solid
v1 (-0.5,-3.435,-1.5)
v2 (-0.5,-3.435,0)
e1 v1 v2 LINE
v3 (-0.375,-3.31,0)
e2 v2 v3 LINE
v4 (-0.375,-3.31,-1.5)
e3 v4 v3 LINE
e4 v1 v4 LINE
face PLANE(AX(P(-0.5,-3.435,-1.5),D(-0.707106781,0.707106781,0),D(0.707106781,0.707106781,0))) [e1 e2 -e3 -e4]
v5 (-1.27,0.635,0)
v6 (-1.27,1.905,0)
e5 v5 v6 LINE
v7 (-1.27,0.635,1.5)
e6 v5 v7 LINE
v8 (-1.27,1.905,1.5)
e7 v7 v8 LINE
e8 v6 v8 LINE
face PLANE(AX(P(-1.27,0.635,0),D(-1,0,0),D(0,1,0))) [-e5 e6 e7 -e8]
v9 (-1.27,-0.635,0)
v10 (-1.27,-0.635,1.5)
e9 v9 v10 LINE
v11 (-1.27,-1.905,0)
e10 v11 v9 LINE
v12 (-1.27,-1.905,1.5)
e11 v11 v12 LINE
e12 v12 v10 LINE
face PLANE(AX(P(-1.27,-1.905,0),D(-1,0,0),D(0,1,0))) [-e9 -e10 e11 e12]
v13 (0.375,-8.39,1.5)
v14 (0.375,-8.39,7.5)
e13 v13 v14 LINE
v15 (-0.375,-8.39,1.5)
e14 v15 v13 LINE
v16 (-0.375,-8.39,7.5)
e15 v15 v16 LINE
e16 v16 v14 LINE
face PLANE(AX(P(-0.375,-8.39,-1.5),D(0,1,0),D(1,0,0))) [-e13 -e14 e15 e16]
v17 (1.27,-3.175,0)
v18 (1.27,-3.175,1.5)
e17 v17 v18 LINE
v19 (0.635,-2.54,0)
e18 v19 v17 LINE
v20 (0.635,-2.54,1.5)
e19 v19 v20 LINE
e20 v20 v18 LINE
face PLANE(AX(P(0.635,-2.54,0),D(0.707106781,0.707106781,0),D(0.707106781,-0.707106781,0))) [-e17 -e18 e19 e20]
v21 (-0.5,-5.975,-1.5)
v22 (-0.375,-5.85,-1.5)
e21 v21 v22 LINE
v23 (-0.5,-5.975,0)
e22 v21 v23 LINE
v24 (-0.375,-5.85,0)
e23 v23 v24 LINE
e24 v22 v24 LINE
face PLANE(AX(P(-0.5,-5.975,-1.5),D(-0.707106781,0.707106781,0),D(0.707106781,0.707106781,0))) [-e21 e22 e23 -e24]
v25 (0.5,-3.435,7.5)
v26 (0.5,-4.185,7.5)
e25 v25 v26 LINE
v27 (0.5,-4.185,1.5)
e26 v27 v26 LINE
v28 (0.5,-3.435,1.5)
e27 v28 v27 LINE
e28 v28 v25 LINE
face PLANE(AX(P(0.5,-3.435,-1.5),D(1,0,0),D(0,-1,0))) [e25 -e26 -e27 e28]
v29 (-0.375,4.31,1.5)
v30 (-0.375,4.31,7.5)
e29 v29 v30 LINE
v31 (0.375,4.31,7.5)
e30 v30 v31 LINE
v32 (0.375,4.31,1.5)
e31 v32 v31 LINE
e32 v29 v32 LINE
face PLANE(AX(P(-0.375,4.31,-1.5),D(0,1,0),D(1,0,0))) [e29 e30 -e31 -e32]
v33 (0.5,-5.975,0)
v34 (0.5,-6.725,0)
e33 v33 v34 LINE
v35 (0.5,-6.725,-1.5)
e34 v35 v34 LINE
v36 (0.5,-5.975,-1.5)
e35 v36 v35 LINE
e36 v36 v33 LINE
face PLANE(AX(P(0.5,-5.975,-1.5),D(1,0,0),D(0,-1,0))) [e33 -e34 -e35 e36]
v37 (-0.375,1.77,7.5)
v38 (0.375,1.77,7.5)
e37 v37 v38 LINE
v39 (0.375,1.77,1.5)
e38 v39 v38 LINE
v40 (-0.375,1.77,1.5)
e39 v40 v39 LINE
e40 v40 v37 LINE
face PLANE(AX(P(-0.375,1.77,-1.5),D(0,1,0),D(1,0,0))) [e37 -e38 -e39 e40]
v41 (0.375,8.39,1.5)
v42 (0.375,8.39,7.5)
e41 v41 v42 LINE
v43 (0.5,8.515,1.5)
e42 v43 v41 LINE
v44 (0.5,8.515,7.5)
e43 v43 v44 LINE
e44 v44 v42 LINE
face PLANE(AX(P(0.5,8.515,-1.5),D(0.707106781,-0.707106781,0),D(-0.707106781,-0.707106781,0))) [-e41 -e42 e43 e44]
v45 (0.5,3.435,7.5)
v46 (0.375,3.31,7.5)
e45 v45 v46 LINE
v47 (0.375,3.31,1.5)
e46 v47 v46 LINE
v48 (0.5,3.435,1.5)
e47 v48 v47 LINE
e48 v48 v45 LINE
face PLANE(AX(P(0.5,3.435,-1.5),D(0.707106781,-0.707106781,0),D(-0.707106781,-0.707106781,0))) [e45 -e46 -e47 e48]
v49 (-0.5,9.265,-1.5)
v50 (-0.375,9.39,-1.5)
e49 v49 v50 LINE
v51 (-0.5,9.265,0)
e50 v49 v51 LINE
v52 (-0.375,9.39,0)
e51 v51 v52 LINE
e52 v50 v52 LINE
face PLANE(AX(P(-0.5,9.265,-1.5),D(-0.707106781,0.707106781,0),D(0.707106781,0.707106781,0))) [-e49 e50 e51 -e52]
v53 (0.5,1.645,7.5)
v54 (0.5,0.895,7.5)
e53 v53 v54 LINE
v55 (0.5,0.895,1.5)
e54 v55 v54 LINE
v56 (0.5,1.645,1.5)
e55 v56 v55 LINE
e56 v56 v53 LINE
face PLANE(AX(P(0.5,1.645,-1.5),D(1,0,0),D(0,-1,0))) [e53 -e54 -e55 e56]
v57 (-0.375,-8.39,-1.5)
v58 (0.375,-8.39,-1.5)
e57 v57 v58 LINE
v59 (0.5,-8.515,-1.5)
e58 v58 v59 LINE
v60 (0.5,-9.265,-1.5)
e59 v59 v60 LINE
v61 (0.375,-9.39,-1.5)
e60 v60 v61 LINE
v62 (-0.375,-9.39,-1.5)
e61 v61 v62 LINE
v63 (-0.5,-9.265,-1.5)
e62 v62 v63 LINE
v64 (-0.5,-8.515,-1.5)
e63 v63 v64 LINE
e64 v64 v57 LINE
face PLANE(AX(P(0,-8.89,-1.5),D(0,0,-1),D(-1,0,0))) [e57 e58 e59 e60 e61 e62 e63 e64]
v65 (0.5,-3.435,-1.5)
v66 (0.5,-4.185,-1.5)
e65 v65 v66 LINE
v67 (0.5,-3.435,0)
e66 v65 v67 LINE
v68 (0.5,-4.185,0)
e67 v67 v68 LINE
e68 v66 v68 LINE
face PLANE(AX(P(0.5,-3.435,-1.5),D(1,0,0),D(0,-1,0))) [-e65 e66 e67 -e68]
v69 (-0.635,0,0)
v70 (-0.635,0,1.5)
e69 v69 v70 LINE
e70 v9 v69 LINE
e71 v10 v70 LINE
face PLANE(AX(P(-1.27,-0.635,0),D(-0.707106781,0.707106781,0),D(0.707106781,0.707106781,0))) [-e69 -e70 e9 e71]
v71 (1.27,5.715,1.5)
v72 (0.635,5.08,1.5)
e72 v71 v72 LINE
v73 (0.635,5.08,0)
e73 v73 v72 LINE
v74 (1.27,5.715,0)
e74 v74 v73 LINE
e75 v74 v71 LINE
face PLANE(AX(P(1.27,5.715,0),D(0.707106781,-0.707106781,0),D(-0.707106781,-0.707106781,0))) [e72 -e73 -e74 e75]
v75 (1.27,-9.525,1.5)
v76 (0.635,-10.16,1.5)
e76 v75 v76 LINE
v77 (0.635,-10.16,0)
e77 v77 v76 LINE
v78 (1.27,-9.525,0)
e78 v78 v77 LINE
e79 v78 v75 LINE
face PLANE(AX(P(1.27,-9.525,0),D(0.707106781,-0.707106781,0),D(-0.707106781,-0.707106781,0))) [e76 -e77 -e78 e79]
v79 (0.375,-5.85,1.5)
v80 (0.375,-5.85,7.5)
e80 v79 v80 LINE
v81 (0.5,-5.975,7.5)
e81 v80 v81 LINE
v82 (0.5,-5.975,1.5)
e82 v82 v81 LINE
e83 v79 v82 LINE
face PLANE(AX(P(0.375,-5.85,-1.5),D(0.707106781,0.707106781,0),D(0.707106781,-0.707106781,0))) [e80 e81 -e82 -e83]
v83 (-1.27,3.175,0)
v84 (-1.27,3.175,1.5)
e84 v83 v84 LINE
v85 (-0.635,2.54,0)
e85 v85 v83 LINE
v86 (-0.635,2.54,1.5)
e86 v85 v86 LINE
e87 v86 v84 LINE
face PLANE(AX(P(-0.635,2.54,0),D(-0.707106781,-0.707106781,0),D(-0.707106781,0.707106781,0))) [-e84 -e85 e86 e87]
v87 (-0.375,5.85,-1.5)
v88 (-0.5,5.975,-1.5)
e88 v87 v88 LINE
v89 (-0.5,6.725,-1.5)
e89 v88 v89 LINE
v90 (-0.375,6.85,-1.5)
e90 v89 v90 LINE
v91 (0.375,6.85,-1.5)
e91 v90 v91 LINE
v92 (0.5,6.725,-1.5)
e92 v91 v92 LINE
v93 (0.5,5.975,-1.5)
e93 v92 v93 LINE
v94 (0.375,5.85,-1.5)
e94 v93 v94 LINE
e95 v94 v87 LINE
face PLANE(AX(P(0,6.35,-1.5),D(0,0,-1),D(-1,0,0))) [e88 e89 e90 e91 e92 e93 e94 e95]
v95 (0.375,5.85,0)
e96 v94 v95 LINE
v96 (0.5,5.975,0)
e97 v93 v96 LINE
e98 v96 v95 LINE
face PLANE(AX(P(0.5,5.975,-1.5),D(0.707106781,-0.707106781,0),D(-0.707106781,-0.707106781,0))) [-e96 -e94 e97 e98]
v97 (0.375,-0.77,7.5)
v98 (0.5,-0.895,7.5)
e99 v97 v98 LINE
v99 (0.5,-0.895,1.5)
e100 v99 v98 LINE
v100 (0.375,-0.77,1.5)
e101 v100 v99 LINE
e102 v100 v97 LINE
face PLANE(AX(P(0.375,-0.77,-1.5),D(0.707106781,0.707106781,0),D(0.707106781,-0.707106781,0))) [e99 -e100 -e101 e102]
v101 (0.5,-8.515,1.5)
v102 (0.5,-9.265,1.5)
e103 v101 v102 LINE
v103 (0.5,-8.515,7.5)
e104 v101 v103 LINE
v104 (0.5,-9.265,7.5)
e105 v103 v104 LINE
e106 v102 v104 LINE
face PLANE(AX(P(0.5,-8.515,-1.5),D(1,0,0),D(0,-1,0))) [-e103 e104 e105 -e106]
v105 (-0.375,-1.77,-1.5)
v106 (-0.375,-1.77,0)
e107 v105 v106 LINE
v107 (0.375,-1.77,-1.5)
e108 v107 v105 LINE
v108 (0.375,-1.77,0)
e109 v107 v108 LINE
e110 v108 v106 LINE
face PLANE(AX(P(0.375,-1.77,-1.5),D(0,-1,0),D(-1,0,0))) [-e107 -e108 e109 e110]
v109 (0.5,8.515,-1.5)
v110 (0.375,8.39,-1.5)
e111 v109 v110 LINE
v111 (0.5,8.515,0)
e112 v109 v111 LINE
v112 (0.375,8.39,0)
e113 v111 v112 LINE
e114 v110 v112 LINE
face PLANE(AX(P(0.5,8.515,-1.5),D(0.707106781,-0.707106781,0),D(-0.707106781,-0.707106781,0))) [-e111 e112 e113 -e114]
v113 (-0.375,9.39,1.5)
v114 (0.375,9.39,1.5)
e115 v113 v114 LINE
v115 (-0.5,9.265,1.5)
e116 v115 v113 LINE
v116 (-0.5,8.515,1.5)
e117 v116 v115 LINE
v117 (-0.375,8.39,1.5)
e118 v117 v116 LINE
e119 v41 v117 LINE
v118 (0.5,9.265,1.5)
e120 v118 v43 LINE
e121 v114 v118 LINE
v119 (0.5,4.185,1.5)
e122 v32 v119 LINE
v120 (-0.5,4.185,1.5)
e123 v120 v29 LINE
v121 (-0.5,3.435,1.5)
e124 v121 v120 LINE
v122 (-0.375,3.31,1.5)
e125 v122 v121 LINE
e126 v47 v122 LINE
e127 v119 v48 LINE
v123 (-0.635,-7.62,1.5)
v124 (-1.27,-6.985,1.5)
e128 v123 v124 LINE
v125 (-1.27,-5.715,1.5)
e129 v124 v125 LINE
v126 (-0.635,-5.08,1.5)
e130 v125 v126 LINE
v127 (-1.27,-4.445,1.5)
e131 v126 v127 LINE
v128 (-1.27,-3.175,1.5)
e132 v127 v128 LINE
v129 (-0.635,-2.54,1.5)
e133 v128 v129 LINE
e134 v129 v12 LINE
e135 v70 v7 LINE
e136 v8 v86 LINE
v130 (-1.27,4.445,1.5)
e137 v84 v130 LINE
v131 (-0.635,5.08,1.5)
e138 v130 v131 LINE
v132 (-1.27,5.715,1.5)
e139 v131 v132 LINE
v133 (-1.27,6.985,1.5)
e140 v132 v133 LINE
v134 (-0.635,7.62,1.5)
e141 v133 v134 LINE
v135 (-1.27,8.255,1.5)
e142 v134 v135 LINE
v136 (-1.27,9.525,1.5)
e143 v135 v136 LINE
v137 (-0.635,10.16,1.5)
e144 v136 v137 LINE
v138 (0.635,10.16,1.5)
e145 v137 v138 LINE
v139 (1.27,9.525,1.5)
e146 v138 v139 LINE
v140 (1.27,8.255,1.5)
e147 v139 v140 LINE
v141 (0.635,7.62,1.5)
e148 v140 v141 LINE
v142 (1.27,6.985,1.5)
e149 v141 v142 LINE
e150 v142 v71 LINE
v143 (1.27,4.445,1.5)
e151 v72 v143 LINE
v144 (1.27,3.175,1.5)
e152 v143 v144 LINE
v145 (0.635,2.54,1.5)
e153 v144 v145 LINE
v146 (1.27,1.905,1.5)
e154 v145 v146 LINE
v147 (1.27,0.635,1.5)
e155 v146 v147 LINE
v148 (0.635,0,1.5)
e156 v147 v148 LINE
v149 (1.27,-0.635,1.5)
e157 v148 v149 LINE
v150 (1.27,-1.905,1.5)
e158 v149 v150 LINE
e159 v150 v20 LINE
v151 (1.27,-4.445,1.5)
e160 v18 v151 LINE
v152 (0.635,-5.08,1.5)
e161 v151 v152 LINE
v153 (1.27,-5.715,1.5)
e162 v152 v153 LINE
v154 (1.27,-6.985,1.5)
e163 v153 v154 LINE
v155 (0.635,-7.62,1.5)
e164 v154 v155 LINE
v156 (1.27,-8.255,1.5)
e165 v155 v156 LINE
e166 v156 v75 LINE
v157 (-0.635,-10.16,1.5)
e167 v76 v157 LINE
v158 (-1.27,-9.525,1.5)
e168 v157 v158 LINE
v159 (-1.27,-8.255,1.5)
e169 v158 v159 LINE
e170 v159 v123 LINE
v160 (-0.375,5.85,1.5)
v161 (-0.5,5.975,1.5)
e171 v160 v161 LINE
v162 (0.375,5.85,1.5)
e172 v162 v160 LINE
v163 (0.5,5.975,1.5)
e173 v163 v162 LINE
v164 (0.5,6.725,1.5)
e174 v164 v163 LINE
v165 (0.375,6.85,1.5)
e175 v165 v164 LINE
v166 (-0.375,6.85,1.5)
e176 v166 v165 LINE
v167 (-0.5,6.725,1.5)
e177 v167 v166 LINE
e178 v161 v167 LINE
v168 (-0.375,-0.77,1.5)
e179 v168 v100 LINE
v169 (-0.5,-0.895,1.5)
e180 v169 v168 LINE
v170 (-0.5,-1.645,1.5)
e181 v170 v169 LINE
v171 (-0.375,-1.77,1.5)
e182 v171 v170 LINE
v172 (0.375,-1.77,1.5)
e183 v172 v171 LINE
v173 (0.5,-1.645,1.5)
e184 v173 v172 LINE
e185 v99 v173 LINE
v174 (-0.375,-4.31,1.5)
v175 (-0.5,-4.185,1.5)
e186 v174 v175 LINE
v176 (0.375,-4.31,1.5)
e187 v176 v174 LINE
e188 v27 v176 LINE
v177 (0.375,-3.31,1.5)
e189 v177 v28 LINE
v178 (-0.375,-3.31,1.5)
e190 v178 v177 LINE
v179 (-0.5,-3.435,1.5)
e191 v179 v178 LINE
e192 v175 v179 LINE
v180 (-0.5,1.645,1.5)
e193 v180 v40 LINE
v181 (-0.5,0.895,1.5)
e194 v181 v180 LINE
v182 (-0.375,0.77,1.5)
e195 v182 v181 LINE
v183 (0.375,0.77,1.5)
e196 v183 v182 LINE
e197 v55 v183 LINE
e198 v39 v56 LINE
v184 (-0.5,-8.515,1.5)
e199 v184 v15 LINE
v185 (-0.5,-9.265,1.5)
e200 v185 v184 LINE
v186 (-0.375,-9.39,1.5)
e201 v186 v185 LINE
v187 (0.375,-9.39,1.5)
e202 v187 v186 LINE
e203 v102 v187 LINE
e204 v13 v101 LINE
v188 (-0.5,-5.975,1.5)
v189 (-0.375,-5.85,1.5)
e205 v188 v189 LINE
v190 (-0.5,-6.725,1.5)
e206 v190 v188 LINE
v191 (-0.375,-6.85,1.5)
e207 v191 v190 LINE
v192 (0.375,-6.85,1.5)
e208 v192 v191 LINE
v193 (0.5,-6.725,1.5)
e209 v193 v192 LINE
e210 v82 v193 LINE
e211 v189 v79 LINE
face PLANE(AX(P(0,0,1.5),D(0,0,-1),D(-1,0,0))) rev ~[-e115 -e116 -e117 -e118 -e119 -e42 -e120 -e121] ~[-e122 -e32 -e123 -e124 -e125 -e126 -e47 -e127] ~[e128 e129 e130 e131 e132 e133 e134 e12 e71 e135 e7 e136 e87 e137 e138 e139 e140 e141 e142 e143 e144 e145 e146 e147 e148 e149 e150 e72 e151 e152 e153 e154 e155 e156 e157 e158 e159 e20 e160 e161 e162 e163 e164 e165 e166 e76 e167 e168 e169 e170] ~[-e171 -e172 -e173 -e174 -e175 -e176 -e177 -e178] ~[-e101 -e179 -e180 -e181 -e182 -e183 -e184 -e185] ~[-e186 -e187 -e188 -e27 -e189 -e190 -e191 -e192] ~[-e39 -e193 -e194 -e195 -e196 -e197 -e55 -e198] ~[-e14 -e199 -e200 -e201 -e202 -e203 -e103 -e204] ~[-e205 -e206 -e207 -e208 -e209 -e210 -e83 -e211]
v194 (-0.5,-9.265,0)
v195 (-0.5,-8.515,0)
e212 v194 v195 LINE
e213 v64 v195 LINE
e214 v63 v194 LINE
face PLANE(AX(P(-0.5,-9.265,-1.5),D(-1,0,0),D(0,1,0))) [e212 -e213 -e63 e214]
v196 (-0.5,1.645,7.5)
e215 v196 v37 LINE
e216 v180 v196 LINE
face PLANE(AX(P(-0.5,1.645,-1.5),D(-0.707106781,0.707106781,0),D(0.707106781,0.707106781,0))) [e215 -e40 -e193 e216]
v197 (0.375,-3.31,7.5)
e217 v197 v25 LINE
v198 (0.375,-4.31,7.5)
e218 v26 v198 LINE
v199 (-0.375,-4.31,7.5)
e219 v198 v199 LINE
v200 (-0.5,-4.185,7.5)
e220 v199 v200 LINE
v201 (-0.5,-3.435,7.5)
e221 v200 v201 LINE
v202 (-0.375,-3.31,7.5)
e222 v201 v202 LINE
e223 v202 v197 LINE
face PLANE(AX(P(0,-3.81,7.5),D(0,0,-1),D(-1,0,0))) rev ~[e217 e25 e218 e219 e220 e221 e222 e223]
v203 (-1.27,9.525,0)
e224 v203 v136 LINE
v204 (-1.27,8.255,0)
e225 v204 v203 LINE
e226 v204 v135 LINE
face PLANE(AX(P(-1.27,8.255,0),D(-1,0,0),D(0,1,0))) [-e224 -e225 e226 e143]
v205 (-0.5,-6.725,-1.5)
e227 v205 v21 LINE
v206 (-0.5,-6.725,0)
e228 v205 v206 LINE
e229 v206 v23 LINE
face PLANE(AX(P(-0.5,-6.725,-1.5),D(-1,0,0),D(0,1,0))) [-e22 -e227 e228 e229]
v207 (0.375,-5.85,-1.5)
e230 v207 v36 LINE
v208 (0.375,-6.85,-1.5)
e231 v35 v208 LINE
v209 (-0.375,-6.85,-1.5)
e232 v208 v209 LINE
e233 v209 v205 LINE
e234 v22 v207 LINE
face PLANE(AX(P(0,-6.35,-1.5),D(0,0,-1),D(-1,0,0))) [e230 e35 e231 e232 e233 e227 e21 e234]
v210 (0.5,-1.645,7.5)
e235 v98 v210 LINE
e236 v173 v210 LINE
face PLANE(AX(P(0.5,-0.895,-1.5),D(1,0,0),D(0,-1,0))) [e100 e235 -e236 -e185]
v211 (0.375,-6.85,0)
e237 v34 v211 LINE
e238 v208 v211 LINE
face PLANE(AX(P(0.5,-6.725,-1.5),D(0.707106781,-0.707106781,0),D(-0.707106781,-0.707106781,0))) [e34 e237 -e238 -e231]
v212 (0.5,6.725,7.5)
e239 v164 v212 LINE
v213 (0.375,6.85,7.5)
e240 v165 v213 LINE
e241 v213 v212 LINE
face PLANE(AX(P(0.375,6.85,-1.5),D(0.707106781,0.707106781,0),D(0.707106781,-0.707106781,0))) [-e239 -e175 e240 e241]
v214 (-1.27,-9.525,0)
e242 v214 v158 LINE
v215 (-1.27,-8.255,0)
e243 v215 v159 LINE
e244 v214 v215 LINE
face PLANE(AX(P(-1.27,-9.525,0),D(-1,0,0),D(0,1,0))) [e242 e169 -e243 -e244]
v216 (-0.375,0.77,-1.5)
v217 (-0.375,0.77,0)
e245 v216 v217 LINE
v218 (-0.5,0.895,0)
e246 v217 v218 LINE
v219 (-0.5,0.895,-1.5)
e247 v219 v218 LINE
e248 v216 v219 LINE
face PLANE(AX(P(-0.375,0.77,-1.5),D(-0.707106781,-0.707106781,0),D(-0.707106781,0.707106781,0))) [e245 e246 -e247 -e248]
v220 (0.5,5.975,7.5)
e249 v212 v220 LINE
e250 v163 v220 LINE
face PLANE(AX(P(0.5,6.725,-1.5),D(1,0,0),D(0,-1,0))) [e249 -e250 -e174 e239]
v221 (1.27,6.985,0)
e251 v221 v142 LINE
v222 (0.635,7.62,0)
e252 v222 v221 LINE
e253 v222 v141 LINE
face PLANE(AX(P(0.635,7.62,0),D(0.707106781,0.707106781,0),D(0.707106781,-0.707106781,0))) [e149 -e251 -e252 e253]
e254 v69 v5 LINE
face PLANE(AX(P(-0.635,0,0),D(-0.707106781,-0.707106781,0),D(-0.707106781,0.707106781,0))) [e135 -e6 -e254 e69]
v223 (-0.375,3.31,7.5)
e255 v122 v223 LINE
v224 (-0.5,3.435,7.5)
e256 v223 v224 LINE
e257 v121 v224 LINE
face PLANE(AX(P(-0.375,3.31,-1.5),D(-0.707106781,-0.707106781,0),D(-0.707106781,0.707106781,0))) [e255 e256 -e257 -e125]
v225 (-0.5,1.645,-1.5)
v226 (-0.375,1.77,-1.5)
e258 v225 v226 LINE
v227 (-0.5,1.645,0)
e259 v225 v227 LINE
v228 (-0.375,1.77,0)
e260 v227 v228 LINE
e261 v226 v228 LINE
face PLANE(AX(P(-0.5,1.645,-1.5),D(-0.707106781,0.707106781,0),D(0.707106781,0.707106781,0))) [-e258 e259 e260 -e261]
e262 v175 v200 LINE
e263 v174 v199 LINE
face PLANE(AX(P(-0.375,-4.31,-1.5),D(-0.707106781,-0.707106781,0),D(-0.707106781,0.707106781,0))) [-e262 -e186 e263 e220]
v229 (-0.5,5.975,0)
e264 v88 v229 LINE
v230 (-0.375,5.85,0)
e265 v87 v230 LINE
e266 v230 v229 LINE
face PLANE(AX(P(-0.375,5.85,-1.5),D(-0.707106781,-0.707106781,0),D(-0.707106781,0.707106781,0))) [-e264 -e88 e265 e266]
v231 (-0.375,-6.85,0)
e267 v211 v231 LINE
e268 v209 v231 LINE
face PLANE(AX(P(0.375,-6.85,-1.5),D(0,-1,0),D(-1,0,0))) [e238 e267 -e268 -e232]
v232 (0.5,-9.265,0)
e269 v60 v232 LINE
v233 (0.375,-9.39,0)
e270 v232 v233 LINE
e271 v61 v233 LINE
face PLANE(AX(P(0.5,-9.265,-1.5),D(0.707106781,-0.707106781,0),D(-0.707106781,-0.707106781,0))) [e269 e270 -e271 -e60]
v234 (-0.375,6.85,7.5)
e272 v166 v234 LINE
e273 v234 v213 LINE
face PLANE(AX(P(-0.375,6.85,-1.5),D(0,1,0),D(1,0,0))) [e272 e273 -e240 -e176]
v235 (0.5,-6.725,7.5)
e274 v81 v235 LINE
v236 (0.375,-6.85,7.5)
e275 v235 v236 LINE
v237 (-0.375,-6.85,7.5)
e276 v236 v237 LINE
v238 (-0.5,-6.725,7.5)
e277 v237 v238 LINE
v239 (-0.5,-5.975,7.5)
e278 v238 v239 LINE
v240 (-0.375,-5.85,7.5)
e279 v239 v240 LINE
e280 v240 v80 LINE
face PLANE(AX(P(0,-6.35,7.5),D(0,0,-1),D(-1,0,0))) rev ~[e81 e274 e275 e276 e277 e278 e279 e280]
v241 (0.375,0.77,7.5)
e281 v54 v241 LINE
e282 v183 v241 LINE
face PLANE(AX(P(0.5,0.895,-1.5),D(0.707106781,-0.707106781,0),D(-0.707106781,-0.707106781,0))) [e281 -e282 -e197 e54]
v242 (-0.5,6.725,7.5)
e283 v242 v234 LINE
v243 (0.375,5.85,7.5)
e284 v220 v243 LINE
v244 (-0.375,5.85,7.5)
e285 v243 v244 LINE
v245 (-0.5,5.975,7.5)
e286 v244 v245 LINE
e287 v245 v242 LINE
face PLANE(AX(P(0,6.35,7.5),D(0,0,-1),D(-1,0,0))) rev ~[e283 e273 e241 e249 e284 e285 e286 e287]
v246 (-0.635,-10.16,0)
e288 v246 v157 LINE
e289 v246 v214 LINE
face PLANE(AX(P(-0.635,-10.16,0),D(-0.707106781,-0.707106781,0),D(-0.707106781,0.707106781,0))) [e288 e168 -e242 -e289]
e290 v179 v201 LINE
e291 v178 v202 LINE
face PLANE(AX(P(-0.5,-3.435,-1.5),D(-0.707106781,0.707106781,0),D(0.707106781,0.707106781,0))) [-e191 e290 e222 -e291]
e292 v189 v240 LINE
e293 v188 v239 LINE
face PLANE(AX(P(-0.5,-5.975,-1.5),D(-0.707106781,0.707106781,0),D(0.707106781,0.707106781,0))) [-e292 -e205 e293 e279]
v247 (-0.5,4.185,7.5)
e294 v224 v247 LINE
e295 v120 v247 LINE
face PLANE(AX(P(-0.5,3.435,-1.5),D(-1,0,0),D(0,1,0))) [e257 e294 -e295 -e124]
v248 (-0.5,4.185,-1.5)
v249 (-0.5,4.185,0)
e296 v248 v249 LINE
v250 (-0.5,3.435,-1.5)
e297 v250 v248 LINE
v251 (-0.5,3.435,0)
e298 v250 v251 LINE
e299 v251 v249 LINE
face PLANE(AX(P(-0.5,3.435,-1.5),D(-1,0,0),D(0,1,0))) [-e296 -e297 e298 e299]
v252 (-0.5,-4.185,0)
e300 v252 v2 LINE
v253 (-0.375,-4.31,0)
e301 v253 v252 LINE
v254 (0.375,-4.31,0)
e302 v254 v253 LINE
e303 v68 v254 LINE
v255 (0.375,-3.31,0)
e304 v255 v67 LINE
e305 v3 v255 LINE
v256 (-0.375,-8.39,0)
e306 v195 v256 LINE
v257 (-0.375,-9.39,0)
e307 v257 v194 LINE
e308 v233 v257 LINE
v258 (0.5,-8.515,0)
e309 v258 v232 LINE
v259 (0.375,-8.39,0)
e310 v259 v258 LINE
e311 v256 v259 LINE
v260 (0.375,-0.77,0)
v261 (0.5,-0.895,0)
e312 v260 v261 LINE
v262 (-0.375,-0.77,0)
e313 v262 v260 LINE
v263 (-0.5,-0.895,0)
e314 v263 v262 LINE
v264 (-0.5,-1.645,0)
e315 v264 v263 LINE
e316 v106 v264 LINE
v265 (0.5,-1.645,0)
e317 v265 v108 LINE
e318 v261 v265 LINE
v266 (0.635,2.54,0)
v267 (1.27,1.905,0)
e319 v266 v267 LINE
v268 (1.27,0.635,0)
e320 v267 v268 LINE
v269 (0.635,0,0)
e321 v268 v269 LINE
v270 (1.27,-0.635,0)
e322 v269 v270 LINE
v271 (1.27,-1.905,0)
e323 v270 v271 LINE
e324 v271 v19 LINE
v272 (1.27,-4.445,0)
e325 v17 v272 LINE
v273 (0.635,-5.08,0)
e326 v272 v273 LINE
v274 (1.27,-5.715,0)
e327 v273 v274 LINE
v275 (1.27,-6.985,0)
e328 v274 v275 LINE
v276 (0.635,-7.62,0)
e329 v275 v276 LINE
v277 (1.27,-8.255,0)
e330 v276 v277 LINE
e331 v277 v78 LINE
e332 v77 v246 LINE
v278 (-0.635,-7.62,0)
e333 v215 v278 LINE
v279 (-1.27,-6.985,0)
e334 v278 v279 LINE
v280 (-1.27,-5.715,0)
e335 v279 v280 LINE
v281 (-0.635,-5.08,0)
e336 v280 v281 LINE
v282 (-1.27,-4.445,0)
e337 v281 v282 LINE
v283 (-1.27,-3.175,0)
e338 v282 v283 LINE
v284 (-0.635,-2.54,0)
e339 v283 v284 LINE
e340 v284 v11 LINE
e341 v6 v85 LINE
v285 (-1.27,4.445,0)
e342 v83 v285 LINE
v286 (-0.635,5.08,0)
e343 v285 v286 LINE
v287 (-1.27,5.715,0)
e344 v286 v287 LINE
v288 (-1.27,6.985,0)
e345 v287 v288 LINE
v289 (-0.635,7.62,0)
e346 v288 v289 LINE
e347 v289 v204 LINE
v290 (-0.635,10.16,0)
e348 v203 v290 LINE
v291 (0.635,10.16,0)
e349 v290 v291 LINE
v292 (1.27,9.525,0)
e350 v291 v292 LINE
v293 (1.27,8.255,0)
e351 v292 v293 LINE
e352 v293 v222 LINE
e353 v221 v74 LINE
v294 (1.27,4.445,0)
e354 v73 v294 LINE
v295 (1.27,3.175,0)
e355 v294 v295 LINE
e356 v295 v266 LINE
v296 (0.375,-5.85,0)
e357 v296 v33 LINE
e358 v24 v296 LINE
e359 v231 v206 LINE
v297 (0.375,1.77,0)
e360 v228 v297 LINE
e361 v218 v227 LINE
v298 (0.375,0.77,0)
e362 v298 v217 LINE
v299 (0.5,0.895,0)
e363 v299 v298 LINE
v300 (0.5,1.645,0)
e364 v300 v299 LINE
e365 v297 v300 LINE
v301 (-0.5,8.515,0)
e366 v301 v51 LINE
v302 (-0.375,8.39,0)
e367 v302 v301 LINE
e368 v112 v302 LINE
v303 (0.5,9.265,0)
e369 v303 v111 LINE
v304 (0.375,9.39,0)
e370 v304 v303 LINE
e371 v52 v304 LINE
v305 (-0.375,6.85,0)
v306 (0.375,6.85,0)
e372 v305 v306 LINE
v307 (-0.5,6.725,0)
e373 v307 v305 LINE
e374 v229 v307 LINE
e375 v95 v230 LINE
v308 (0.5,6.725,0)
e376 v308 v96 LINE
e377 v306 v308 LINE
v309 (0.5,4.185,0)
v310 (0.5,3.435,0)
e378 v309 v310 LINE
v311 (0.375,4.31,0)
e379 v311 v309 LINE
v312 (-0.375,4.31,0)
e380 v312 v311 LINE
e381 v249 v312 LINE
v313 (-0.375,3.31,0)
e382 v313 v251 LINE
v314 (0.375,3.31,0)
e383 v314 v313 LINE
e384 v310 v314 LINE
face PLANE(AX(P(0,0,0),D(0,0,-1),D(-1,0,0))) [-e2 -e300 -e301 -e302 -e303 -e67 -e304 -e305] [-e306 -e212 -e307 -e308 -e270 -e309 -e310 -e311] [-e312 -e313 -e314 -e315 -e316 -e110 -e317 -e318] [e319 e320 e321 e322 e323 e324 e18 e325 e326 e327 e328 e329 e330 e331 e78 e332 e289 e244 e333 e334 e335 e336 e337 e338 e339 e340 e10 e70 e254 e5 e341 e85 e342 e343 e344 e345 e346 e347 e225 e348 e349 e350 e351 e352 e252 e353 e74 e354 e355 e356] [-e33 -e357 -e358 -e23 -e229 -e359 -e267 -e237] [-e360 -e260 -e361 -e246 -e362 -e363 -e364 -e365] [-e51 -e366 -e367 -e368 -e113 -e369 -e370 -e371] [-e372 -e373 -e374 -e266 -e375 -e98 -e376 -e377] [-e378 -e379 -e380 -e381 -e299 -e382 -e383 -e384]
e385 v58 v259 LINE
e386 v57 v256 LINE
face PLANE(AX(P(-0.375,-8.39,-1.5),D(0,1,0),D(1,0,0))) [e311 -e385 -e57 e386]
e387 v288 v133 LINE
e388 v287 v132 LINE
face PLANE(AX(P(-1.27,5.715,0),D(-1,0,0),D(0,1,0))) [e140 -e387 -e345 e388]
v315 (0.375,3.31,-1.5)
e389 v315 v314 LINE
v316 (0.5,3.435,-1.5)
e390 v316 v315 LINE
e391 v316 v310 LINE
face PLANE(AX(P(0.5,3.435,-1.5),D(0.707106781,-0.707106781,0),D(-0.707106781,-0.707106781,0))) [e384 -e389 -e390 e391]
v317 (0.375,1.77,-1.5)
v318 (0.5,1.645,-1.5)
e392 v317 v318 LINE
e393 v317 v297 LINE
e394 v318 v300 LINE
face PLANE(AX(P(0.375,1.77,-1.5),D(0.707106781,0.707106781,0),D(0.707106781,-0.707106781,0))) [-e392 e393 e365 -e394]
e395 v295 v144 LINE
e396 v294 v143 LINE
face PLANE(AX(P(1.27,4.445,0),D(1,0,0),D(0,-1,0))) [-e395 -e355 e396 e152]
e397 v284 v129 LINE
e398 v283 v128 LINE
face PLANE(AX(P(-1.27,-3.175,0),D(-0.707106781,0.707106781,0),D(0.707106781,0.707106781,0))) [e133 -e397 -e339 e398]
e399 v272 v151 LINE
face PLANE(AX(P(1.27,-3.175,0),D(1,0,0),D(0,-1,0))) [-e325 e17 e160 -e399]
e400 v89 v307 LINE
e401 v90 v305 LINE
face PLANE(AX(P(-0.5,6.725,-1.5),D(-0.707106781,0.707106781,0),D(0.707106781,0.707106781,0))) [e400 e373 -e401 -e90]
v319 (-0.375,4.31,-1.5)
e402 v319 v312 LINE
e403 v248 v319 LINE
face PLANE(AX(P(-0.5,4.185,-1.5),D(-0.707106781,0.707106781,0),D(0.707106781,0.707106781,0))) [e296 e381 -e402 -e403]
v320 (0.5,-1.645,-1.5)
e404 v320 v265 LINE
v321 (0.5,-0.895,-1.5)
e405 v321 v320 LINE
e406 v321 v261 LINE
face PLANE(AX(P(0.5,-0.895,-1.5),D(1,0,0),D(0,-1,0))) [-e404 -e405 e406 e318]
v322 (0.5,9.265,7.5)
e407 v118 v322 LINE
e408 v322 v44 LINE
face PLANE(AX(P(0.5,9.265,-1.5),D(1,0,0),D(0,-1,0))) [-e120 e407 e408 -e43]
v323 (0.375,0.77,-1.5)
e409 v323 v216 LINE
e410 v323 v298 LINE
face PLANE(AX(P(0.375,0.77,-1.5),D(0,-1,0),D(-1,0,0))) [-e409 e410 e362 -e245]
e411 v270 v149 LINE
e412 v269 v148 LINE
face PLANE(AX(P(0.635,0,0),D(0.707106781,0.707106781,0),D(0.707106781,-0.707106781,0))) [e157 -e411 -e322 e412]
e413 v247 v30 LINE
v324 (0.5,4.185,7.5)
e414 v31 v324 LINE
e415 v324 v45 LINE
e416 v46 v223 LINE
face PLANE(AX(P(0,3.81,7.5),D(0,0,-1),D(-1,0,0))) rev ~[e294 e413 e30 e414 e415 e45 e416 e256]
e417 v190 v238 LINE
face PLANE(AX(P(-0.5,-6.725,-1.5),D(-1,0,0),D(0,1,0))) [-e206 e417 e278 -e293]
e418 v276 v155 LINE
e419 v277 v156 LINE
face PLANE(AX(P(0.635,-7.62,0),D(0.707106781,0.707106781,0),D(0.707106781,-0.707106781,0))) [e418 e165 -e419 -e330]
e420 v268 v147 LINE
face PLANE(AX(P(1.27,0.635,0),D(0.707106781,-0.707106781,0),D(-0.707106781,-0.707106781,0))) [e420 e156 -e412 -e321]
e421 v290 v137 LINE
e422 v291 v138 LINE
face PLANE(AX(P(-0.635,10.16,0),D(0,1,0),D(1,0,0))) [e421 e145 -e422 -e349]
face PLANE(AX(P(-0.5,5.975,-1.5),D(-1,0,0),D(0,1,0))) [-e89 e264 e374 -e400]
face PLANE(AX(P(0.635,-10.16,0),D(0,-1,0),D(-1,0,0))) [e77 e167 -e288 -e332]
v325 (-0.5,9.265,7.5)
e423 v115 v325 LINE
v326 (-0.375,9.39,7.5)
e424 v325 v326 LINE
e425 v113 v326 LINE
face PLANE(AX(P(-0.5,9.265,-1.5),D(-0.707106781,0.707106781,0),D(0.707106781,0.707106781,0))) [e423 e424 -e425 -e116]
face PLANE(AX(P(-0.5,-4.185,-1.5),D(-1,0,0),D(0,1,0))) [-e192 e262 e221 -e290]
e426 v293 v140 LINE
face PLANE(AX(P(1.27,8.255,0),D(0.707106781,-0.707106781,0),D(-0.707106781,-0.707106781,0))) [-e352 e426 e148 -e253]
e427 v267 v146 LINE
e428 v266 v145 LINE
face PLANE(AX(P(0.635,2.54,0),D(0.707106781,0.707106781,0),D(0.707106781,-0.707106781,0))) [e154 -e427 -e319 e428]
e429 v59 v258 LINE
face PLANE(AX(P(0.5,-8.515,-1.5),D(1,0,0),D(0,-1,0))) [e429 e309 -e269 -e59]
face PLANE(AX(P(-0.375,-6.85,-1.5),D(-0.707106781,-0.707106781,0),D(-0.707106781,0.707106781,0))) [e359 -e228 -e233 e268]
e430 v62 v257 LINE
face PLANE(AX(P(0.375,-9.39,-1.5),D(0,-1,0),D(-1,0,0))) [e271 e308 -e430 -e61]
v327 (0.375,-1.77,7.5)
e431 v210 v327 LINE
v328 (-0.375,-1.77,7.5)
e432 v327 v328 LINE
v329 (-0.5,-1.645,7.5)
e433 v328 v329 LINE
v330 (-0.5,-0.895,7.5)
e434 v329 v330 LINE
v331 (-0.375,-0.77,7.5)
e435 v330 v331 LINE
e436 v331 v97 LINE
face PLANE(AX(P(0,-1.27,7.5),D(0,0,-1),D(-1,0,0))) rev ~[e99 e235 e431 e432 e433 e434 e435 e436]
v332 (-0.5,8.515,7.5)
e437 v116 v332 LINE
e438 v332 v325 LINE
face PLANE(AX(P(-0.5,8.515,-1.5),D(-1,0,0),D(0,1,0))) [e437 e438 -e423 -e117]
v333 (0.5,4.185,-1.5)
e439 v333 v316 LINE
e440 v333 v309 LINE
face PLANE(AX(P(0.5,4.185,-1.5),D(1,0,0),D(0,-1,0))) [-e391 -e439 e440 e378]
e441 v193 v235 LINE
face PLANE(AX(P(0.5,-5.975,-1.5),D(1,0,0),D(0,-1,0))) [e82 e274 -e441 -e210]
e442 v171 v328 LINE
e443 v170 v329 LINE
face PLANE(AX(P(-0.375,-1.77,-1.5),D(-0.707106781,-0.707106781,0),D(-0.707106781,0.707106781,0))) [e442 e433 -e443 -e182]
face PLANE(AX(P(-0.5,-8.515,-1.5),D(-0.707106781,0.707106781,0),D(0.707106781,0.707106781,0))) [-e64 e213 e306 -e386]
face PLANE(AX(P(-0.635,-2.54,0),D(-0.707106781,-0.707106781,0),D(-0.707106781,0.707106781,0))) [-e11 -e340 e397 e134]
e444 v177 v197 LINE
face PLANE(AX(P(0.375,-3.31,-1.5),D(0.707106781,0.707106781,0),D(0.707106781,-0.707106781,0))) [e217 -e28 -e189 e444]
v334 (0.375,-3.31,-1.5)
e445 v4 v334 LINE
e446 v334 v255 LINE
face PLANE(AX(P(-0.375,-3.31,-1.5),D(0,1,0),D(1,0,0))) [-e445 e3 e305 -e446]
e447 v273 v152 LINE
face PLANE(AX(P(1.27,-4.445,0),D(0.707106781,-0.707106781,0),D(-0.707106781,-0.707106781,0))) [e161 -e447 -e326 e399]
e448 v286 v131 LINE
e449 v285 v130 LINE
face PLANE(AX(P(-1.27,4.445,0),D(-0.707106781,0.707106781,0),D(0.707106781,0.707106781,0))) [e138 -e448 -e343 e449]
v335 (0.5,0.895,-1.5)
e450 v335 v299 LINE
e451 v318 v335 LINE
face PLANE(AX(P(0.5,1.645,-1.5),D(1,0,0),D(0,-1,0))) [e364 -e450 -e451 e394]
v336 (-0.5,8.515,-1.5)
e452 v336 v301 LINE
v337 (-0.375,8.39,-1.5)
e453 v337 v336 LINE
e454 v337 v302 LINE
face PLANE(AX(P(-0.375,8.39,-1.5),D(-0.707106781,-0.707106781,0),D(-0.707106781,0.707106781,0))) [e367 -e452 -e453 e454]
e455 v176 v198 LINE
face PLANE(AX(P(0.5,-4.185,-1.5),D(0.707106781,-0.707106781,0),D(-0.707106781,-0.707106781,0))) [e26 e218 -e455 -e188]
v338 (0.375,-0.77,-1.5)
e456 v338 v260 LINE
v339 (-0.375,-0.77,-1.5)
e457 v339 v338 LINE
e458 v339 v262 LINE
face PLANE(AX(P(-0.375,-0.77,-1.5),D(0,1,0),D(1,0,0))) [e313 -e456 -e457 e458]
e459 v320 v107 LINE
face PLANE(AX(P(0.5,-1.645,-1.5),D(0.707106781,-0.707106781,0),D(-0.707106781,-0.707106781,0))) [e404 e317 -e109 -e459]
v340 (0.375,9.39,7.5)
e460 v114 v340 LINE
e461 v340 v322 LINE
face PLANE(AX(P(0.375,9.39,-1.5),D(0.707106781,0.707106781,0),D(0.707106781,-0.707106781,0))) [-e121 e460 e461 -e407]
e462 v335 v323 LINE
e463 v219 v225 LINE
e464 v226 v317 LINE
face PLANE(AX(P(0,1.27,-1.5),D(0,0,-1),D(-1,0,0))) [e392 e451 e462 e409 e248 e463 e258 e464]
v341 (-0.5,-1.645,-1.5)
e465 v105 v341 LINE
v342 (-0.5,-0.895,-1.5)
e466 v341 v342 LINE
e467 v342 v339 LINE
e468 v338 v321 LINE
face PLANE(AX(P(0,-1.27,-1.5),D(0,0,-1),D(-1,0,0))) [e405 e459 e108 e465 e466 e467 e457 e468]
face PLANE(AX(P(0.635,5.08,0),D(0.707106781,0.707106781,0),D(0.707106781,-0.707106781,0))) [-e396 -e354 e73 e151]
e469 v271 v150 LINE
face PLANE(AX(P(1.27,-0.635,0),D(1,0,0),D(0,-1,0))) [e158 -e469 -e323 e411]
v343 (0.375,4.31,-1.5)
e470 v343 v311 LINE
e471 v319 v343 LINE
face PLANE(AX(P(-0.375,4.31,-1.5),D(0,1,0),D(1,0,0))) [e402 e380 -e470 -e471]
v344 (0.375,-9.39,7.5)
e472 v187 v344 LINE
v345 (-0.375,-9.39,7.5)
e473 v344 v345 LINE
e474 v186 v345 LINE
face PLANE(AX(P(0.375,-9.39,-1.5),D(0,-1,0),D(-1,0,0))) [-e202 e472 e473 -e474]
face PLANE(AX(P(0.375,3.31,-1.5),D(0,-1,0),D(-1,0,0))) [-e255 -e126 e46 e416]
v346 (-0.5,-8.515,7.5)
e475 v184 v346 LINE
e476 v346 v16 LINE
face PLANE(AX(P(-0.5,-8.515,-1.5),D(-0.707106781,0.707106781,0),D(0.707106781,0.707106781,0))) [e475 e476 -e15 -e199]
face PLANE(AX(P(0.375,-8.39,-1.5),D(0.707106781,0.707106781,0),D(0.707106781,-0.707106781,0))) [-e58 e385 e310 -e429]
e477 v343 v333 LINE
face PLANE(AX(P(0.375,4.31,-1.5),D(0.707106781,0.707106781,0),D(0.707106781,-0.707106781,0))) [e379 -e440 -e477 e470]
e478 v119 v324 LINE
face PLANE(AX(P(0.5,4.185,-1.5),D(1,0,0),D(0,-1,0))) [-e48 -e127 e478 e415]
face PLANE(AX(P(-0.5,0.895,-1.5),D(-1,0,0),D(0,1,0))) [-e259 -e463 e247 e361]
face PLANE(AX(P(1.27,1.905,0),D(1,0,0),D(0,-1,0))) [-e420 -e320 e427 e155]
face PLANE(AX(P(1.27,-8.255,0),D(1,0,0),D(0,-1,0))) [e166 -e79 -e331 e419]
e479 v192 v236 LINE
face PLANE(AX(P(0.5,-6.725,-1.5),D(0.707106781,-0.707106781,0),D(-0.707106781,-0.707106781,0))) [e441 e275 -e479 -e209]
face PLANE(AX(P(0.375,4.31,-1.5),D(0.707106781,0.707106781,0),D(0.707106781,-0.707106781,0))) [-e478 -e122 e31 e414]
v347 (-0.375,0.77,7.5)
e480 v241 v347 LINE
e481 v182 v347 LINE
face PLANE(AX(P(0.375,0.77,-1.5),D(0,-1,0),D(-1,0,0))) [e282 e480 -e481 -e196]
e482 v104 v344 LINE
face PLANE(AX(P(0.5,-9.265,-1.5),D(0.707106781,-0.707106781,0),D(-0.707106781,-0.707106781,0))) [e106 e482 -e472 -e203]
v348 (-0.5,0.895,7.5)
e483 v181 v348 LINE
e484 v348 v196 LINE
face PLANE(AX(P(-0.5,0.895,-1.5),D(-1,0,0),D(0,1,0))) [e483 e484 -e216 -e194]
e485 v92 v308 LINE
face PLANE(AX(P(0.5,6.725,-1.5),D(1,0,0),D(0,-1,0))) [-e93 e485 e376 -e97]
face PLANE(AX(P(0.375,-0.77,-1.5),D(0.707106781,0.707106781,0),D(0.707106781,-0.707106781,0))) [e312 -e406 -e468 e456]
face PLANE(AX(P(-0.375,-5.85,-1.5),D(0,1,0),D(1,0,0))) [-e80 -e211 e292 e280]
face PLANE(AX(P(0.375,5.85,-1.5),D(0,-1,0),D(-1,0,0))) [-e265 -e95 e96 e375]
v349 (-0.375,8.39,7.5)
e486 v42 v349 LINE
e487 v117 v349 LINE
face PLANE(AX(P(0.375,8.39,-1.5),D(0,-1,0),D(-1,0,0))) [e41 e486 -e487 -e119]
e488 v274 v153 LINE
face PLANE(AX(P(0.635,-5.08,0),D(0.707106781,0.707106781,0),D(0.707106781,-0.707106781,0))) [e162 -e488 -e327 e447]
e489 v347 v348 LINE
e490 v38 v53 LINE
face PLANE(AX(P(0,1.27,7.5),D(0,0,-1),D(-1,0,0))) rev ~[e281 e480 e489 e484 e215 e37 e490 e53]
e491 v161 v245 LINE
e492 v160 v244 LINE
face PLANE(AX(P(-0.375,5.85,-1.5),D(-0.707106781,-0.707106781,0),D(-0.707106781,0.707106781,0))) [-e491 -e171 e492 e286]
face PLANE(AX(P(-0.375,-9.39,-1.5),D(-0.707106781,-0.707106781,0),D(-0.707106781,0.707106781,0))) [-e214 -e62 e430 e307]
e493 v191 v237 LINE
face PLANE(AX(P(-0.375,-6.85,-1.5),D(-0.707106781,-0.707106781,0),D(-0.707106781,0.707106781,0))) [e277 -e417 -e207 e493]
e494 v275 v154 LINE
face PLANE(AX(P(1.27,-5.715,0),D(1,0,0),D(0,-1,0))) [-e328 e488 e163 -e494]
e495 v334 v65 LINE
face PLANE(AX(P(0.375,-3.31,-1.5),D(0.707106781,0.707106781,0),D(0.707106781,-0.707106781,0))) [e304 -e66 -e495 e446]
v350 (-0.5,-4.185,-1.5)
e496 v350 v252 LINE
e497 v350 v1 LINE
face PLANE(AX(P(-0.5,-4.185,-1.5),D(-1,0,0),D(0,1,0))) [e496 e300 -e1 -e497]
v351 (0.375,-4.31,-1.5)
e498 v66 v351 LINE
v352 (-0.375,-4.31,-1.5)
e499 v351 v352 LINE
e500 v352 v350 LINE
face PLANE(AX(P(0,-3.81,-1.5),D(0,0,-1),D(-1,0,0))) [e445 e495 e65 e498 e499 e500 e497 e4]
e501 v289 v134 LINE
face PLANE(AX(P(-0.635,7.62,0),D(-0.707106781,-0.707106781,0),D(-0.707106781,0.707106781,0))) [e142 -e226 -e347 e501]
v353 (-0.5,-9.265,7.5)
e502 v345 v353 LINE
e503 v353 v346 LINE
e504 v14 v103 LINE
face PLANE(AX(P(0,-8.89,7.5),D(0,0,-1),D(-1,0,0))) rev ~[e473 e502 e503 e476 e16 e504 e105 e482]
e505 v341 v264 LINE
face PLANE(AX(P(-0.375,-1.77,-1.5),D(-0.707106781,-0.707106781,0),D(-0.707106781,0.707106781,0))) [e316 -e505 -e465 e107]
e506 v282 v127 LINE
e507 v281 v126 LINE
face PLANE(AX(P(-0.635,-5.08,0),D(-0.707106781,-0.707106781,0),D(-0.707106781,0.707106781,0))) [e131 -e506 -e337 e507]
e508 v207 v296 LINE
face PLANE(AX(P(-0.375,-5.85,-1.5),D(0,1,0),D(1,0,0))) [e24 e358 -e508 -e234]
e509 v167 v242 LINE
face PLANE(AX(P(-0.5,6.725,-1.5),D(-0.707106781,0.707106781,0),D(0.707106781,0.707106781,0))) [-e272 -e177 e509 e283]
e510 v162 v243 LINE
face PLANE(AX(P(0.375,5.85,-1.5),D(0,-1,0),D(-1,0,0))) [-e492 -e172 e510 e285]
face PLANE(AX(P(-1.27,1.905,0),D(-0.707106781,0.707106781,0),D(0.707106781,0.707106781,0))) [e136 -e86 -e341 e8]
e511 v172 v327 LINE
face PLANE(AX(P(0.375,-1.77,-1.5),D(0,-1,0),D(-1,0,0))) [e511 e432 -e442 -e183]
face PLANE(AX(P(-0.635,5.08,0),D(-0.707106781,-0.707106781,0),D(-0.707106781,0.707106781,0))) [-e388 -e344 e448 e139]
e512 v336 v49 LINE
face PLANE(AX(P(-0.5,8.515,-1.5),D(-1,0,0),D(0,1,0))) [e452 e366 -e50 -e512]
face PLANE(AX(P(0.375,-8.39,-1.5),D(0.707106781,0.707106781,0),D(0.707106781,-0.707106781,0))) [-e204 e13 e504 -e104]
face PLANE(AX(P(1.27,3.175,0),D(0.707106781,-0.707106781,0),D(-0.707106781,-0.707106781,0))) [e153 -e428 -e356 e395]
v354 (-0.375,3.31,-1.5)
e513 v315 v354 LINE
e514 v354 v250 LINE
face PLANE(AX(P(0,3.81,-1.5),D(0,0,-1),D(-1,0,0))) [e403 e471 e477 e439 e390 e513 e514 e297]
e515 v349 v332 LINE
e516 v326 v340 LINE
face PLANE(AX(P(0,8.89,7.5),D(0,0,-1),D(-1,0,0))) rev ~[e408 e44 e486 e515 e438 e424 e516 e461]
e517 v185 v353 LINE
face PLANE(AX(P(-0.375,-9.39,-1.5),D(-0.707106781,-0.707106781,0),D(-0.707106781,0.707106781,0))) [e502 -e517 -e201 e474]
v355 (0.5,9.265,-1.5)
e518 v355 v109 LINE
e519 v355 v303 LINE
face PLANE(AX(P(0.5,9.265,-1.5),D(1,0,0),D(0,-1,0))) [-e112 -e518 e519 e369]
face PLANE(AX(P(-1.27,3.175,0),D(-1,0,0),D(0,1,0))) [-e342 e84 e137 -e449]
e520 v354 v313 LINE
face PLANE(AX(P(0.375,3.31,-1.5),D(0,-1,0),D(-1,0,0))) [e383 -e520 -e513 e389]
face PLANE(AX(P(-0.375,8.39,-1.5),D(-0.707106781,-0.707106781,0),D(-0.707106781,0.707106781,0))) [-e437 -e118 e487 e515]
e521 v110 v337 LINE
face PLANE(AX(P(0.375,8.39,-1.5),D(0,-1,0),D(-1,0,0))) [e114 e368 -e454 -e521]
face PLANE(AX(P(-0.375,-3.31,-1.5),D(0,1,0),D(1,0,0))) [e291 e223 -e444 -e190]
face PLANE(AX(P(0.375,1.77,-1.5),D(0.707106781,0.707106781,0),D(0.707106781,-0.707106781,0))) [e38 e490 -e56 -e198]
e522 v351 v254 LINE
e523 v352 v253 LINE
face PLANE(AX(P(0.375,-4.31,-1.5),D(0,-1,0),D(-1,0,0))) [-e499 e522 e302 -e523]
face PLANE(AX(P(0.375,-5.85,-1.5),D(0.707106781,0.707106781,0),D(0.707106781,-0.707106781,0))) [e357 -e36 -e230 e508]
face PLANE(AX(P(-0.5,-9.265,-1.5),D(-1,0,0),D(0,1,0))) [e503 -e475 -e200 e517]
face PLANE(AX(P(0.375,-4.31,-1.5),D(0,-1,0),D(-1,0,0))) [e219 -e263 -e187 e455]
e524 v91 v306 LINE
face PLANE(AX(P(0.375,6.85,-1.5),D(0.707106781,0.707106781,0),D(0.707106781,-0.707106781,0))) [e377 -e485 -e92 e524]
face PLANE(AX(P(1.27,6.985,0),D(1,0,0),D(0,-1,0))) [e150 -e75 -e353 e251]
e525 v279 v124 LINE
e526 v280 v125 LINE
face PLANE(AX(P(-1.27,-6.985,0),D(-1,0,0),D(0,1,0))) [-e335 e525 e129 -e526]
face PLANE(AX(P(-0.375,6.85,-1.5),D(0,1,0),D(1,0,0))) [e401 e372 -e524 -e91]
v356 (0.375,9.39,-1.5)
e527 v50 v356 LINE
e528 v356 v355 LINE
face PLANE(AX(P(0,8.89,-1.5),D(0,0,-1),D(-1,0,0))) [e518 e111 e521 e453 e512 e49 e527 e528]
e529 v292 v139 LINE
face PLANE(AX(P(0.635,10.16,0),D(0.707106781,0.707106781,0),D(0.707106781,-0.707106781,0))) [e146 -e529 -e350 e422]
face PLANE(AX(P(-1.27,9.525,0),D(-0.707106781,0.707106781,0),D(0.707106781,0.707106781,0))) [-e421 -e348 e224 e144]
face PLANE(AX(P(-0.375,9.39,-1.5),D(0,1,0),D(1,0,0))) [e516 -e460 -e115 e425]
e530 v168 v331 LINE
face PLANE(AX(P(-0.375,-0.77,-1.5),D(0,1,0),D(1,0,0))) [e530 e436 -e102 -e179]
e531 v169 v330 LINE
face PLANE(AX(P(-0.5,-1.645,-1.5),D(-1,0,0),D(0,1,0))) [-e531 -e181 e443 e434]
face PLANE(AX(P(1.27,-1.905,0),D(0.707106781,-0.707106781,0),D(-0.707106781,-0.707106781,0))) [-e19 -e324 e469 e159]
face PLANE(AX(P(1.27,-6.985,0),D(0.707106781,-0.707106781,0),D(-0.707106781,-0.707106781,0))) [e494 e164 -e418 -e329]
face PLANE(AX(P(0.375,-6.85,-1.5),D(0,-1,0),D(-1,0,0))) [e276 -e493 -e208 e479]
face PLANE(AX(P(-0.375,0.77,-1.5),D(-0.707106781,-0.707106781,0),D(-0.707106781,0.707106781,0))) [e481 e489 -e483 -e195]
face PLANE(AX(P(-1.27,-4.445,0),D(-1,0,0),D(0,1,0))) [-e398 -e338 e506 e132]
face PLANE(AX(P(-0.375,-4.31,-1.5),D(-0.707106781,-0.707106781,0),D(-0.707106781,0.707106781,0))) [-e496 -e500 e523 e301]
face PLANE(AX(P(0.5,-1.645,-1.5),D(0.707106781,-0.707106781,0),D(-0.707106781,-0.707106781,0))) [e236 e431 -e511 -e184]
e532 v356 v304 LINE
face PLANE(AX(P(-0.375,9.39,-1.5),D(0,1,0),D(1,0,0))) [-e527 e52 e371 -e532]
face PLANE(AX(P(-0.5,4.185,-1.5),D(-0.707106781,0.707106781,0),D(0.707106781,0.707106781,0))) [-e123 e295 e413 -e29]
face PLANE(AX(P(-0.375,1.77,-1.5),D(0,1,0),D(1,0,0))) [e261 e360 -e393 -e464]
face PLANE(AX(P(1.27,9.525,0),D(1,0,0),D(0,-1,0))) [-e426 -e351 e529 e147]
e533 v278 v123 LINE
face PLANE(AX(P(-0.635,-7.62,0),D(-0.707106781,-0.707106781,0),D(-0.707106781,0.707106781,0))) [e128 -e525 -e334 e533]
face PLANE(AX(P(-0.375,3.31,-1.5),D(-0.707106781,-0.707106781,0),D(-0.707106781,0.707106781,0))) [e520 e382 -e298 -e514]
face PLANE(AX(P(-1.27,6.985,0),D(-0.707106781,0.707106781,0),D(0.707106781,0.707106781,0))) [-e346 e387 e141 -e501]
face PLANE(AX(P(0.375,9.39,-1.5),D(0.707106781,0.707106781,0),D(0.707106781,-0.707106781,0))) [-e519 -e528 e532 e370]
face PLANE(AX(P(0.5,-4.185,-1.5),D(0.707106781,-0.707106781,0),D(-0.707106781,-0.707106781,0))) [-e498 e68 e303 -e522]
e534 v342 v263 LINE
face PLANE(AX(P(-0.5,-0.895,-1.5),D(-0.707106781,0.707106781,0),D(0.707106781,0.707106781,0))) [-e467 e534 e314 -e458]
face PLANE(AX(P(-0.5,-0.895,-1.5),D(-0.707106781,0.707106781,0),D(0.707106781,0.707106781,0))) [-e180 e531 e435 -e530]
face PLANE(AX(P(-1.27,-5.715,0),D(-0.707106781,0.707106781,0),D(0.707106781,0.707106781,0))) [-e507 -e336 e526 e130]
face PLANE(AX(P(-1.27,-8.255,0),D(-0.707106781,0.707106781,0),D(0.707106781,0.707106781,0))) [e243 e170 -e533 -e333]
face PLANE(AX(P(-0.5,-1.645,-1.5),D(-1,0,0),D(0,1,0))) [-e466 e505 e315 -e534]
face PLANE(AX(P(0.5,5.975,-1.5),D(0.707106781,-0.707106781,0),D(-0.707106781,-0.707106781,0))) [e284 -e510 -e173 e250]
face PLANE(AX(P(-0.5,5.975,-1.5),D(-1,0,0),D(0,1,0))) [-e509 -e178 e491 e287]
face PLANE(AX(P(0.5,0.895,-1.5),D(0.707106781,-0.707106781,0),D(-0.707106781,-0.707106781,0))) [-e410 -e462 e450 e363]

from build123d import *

# Parameters (mm, degrees)
BOSS_EXTRUDE1_DEPTH      = 1.5
BOSS_EXTRUDE2_DEPTH      = 6
BOSS_EXTRUDE2_DEPTH_BACK = 3


with BuildPart() as part:
    # Sketch1 → Boss-Extrude1 (new body)
    with BuildSketch(Plane.XY):
        Polygon((-0.635, 10.16), (0.635, 10.16), (1.27, 9.525), (1.27, 8.255), (0.635, 7.62), (1.27, 6.985), (1.27, 5.715), (0.635, 5.08), (1.27, 4.445), (1.27, 3.175), (0.635, 2.54), (1.27, 1.905), (1.27, 0.635), (0.635, 0), (1.27, -0.635), (1.27, -1.905), (0.635, -2.54), (1.27, -3.175), (1.27, -4.445), (0.635, -5.08), (1.27, -5.715), (1.27, -6.985), (0.635, -7.62), (1.27, -8.255), (1.27, -9.525), (0.635, -10.16), (-0.635, -10.16), (-1.27, -9.525), (-1.27, -8.255), (-0.635, -7.62), (-1.27, -6.985), (-1.27, -5.715), (-0.635, -5.08), (-1.27, -4.445), (-1.27, -3.175), (-0.635, -2.54), (-1.27, -1.905), (-1.27, -0.635), (-0.635, 0), (-1.27, 0.635), (-1.27, 1.905), (-0.635, 2.54), (-1.27, 3.175), (-1.27, 4.445), (-0.635, 5.08), (-1.27, 5.715), (-1.27, 6.985), (-0.635, 7.62), (-1.27, 8.255), (-1.27, 9.525), align=None)
    extrude(amount=BOSS_EXTRUDE1_DEPTH)

    # Sketch2 → Boss-Extrude2 (add, two sides: drawn at the far end of the back side and taken through both)
    with BuildSketch(Plane.XY.offset(1.5).offset(-BOSS_EXTRUDE2_DEPTH_BACK)):
        Polygon((0.375, 9.39), (0.5, 9.265), (0.5, 8.515), (0.375, 8.39), (-0.375, 8.39), (-0.5, 8.515), (-0.5, 9.265), (-0.375, 9.39), align=None)
        Polygon((0.375, 6.85), (0.5, 6.725), (0.5, 5.975), (0.375, 5.85), (-0.375, 5.85), (-0.5, 5.975), (-0.5, 6.725), (-0.375, 6.85), align=None)
        Polygon((0.375, 4.31), (0.5, 4.185), (0.5, 3.435), (0.375, 3.31), (-0.375, 3.31), (-0.5, 3.435), (-0.5, 4.185), (-0.375, 4.31), align=None)
        Polygon((0.375, 1.77), (0.5, 1.645), (0.5, 0.895), (0.375, 0.77), (-0.375, 0.77), (-0.5, 0.895), (-0.5, 1.645), (-0.375, 1.77), align=None)
        Polygon((0.375, -0.77), (0.5, -0.895), (0.5, -1.645), (0.375, -1.77), (-0.375, -1.77), (-0.5, -1.645), (-0.5, -0.895), (-0.375, -0.77), align=None)
        Polygon((0.375, -3.31), (0.5, -3.435), (0.5, -4.185), (0.375, -4.31), (-0.375, -4.31), (-0.5, -4.185), (-0.5, -3.435), (-0.375, -3.31), align=None)
        Polygon((0.375, -5.85), (0.5, -5.975), (0.5, -6.725), (0.375, -6.85), (-0.375, -6.85), (-0.5, -6.725), (-0.5, -5.975), (-0.375, -5.85), align=None)
        Polygon((0.375, -8.39), (0.5, -8.515), (0.5, -9.265), (0.375, -9.39), (-0.375, -9.39), (-0.5, -9.265), (-0.5, -8.515), (-0.375, -8.39), align=None)
    extrude(amount=BOSS_EXTRUDE2_DEPTH + BOSS_EXTRUDE2_DEPTH_BACK)


solid = part.part
